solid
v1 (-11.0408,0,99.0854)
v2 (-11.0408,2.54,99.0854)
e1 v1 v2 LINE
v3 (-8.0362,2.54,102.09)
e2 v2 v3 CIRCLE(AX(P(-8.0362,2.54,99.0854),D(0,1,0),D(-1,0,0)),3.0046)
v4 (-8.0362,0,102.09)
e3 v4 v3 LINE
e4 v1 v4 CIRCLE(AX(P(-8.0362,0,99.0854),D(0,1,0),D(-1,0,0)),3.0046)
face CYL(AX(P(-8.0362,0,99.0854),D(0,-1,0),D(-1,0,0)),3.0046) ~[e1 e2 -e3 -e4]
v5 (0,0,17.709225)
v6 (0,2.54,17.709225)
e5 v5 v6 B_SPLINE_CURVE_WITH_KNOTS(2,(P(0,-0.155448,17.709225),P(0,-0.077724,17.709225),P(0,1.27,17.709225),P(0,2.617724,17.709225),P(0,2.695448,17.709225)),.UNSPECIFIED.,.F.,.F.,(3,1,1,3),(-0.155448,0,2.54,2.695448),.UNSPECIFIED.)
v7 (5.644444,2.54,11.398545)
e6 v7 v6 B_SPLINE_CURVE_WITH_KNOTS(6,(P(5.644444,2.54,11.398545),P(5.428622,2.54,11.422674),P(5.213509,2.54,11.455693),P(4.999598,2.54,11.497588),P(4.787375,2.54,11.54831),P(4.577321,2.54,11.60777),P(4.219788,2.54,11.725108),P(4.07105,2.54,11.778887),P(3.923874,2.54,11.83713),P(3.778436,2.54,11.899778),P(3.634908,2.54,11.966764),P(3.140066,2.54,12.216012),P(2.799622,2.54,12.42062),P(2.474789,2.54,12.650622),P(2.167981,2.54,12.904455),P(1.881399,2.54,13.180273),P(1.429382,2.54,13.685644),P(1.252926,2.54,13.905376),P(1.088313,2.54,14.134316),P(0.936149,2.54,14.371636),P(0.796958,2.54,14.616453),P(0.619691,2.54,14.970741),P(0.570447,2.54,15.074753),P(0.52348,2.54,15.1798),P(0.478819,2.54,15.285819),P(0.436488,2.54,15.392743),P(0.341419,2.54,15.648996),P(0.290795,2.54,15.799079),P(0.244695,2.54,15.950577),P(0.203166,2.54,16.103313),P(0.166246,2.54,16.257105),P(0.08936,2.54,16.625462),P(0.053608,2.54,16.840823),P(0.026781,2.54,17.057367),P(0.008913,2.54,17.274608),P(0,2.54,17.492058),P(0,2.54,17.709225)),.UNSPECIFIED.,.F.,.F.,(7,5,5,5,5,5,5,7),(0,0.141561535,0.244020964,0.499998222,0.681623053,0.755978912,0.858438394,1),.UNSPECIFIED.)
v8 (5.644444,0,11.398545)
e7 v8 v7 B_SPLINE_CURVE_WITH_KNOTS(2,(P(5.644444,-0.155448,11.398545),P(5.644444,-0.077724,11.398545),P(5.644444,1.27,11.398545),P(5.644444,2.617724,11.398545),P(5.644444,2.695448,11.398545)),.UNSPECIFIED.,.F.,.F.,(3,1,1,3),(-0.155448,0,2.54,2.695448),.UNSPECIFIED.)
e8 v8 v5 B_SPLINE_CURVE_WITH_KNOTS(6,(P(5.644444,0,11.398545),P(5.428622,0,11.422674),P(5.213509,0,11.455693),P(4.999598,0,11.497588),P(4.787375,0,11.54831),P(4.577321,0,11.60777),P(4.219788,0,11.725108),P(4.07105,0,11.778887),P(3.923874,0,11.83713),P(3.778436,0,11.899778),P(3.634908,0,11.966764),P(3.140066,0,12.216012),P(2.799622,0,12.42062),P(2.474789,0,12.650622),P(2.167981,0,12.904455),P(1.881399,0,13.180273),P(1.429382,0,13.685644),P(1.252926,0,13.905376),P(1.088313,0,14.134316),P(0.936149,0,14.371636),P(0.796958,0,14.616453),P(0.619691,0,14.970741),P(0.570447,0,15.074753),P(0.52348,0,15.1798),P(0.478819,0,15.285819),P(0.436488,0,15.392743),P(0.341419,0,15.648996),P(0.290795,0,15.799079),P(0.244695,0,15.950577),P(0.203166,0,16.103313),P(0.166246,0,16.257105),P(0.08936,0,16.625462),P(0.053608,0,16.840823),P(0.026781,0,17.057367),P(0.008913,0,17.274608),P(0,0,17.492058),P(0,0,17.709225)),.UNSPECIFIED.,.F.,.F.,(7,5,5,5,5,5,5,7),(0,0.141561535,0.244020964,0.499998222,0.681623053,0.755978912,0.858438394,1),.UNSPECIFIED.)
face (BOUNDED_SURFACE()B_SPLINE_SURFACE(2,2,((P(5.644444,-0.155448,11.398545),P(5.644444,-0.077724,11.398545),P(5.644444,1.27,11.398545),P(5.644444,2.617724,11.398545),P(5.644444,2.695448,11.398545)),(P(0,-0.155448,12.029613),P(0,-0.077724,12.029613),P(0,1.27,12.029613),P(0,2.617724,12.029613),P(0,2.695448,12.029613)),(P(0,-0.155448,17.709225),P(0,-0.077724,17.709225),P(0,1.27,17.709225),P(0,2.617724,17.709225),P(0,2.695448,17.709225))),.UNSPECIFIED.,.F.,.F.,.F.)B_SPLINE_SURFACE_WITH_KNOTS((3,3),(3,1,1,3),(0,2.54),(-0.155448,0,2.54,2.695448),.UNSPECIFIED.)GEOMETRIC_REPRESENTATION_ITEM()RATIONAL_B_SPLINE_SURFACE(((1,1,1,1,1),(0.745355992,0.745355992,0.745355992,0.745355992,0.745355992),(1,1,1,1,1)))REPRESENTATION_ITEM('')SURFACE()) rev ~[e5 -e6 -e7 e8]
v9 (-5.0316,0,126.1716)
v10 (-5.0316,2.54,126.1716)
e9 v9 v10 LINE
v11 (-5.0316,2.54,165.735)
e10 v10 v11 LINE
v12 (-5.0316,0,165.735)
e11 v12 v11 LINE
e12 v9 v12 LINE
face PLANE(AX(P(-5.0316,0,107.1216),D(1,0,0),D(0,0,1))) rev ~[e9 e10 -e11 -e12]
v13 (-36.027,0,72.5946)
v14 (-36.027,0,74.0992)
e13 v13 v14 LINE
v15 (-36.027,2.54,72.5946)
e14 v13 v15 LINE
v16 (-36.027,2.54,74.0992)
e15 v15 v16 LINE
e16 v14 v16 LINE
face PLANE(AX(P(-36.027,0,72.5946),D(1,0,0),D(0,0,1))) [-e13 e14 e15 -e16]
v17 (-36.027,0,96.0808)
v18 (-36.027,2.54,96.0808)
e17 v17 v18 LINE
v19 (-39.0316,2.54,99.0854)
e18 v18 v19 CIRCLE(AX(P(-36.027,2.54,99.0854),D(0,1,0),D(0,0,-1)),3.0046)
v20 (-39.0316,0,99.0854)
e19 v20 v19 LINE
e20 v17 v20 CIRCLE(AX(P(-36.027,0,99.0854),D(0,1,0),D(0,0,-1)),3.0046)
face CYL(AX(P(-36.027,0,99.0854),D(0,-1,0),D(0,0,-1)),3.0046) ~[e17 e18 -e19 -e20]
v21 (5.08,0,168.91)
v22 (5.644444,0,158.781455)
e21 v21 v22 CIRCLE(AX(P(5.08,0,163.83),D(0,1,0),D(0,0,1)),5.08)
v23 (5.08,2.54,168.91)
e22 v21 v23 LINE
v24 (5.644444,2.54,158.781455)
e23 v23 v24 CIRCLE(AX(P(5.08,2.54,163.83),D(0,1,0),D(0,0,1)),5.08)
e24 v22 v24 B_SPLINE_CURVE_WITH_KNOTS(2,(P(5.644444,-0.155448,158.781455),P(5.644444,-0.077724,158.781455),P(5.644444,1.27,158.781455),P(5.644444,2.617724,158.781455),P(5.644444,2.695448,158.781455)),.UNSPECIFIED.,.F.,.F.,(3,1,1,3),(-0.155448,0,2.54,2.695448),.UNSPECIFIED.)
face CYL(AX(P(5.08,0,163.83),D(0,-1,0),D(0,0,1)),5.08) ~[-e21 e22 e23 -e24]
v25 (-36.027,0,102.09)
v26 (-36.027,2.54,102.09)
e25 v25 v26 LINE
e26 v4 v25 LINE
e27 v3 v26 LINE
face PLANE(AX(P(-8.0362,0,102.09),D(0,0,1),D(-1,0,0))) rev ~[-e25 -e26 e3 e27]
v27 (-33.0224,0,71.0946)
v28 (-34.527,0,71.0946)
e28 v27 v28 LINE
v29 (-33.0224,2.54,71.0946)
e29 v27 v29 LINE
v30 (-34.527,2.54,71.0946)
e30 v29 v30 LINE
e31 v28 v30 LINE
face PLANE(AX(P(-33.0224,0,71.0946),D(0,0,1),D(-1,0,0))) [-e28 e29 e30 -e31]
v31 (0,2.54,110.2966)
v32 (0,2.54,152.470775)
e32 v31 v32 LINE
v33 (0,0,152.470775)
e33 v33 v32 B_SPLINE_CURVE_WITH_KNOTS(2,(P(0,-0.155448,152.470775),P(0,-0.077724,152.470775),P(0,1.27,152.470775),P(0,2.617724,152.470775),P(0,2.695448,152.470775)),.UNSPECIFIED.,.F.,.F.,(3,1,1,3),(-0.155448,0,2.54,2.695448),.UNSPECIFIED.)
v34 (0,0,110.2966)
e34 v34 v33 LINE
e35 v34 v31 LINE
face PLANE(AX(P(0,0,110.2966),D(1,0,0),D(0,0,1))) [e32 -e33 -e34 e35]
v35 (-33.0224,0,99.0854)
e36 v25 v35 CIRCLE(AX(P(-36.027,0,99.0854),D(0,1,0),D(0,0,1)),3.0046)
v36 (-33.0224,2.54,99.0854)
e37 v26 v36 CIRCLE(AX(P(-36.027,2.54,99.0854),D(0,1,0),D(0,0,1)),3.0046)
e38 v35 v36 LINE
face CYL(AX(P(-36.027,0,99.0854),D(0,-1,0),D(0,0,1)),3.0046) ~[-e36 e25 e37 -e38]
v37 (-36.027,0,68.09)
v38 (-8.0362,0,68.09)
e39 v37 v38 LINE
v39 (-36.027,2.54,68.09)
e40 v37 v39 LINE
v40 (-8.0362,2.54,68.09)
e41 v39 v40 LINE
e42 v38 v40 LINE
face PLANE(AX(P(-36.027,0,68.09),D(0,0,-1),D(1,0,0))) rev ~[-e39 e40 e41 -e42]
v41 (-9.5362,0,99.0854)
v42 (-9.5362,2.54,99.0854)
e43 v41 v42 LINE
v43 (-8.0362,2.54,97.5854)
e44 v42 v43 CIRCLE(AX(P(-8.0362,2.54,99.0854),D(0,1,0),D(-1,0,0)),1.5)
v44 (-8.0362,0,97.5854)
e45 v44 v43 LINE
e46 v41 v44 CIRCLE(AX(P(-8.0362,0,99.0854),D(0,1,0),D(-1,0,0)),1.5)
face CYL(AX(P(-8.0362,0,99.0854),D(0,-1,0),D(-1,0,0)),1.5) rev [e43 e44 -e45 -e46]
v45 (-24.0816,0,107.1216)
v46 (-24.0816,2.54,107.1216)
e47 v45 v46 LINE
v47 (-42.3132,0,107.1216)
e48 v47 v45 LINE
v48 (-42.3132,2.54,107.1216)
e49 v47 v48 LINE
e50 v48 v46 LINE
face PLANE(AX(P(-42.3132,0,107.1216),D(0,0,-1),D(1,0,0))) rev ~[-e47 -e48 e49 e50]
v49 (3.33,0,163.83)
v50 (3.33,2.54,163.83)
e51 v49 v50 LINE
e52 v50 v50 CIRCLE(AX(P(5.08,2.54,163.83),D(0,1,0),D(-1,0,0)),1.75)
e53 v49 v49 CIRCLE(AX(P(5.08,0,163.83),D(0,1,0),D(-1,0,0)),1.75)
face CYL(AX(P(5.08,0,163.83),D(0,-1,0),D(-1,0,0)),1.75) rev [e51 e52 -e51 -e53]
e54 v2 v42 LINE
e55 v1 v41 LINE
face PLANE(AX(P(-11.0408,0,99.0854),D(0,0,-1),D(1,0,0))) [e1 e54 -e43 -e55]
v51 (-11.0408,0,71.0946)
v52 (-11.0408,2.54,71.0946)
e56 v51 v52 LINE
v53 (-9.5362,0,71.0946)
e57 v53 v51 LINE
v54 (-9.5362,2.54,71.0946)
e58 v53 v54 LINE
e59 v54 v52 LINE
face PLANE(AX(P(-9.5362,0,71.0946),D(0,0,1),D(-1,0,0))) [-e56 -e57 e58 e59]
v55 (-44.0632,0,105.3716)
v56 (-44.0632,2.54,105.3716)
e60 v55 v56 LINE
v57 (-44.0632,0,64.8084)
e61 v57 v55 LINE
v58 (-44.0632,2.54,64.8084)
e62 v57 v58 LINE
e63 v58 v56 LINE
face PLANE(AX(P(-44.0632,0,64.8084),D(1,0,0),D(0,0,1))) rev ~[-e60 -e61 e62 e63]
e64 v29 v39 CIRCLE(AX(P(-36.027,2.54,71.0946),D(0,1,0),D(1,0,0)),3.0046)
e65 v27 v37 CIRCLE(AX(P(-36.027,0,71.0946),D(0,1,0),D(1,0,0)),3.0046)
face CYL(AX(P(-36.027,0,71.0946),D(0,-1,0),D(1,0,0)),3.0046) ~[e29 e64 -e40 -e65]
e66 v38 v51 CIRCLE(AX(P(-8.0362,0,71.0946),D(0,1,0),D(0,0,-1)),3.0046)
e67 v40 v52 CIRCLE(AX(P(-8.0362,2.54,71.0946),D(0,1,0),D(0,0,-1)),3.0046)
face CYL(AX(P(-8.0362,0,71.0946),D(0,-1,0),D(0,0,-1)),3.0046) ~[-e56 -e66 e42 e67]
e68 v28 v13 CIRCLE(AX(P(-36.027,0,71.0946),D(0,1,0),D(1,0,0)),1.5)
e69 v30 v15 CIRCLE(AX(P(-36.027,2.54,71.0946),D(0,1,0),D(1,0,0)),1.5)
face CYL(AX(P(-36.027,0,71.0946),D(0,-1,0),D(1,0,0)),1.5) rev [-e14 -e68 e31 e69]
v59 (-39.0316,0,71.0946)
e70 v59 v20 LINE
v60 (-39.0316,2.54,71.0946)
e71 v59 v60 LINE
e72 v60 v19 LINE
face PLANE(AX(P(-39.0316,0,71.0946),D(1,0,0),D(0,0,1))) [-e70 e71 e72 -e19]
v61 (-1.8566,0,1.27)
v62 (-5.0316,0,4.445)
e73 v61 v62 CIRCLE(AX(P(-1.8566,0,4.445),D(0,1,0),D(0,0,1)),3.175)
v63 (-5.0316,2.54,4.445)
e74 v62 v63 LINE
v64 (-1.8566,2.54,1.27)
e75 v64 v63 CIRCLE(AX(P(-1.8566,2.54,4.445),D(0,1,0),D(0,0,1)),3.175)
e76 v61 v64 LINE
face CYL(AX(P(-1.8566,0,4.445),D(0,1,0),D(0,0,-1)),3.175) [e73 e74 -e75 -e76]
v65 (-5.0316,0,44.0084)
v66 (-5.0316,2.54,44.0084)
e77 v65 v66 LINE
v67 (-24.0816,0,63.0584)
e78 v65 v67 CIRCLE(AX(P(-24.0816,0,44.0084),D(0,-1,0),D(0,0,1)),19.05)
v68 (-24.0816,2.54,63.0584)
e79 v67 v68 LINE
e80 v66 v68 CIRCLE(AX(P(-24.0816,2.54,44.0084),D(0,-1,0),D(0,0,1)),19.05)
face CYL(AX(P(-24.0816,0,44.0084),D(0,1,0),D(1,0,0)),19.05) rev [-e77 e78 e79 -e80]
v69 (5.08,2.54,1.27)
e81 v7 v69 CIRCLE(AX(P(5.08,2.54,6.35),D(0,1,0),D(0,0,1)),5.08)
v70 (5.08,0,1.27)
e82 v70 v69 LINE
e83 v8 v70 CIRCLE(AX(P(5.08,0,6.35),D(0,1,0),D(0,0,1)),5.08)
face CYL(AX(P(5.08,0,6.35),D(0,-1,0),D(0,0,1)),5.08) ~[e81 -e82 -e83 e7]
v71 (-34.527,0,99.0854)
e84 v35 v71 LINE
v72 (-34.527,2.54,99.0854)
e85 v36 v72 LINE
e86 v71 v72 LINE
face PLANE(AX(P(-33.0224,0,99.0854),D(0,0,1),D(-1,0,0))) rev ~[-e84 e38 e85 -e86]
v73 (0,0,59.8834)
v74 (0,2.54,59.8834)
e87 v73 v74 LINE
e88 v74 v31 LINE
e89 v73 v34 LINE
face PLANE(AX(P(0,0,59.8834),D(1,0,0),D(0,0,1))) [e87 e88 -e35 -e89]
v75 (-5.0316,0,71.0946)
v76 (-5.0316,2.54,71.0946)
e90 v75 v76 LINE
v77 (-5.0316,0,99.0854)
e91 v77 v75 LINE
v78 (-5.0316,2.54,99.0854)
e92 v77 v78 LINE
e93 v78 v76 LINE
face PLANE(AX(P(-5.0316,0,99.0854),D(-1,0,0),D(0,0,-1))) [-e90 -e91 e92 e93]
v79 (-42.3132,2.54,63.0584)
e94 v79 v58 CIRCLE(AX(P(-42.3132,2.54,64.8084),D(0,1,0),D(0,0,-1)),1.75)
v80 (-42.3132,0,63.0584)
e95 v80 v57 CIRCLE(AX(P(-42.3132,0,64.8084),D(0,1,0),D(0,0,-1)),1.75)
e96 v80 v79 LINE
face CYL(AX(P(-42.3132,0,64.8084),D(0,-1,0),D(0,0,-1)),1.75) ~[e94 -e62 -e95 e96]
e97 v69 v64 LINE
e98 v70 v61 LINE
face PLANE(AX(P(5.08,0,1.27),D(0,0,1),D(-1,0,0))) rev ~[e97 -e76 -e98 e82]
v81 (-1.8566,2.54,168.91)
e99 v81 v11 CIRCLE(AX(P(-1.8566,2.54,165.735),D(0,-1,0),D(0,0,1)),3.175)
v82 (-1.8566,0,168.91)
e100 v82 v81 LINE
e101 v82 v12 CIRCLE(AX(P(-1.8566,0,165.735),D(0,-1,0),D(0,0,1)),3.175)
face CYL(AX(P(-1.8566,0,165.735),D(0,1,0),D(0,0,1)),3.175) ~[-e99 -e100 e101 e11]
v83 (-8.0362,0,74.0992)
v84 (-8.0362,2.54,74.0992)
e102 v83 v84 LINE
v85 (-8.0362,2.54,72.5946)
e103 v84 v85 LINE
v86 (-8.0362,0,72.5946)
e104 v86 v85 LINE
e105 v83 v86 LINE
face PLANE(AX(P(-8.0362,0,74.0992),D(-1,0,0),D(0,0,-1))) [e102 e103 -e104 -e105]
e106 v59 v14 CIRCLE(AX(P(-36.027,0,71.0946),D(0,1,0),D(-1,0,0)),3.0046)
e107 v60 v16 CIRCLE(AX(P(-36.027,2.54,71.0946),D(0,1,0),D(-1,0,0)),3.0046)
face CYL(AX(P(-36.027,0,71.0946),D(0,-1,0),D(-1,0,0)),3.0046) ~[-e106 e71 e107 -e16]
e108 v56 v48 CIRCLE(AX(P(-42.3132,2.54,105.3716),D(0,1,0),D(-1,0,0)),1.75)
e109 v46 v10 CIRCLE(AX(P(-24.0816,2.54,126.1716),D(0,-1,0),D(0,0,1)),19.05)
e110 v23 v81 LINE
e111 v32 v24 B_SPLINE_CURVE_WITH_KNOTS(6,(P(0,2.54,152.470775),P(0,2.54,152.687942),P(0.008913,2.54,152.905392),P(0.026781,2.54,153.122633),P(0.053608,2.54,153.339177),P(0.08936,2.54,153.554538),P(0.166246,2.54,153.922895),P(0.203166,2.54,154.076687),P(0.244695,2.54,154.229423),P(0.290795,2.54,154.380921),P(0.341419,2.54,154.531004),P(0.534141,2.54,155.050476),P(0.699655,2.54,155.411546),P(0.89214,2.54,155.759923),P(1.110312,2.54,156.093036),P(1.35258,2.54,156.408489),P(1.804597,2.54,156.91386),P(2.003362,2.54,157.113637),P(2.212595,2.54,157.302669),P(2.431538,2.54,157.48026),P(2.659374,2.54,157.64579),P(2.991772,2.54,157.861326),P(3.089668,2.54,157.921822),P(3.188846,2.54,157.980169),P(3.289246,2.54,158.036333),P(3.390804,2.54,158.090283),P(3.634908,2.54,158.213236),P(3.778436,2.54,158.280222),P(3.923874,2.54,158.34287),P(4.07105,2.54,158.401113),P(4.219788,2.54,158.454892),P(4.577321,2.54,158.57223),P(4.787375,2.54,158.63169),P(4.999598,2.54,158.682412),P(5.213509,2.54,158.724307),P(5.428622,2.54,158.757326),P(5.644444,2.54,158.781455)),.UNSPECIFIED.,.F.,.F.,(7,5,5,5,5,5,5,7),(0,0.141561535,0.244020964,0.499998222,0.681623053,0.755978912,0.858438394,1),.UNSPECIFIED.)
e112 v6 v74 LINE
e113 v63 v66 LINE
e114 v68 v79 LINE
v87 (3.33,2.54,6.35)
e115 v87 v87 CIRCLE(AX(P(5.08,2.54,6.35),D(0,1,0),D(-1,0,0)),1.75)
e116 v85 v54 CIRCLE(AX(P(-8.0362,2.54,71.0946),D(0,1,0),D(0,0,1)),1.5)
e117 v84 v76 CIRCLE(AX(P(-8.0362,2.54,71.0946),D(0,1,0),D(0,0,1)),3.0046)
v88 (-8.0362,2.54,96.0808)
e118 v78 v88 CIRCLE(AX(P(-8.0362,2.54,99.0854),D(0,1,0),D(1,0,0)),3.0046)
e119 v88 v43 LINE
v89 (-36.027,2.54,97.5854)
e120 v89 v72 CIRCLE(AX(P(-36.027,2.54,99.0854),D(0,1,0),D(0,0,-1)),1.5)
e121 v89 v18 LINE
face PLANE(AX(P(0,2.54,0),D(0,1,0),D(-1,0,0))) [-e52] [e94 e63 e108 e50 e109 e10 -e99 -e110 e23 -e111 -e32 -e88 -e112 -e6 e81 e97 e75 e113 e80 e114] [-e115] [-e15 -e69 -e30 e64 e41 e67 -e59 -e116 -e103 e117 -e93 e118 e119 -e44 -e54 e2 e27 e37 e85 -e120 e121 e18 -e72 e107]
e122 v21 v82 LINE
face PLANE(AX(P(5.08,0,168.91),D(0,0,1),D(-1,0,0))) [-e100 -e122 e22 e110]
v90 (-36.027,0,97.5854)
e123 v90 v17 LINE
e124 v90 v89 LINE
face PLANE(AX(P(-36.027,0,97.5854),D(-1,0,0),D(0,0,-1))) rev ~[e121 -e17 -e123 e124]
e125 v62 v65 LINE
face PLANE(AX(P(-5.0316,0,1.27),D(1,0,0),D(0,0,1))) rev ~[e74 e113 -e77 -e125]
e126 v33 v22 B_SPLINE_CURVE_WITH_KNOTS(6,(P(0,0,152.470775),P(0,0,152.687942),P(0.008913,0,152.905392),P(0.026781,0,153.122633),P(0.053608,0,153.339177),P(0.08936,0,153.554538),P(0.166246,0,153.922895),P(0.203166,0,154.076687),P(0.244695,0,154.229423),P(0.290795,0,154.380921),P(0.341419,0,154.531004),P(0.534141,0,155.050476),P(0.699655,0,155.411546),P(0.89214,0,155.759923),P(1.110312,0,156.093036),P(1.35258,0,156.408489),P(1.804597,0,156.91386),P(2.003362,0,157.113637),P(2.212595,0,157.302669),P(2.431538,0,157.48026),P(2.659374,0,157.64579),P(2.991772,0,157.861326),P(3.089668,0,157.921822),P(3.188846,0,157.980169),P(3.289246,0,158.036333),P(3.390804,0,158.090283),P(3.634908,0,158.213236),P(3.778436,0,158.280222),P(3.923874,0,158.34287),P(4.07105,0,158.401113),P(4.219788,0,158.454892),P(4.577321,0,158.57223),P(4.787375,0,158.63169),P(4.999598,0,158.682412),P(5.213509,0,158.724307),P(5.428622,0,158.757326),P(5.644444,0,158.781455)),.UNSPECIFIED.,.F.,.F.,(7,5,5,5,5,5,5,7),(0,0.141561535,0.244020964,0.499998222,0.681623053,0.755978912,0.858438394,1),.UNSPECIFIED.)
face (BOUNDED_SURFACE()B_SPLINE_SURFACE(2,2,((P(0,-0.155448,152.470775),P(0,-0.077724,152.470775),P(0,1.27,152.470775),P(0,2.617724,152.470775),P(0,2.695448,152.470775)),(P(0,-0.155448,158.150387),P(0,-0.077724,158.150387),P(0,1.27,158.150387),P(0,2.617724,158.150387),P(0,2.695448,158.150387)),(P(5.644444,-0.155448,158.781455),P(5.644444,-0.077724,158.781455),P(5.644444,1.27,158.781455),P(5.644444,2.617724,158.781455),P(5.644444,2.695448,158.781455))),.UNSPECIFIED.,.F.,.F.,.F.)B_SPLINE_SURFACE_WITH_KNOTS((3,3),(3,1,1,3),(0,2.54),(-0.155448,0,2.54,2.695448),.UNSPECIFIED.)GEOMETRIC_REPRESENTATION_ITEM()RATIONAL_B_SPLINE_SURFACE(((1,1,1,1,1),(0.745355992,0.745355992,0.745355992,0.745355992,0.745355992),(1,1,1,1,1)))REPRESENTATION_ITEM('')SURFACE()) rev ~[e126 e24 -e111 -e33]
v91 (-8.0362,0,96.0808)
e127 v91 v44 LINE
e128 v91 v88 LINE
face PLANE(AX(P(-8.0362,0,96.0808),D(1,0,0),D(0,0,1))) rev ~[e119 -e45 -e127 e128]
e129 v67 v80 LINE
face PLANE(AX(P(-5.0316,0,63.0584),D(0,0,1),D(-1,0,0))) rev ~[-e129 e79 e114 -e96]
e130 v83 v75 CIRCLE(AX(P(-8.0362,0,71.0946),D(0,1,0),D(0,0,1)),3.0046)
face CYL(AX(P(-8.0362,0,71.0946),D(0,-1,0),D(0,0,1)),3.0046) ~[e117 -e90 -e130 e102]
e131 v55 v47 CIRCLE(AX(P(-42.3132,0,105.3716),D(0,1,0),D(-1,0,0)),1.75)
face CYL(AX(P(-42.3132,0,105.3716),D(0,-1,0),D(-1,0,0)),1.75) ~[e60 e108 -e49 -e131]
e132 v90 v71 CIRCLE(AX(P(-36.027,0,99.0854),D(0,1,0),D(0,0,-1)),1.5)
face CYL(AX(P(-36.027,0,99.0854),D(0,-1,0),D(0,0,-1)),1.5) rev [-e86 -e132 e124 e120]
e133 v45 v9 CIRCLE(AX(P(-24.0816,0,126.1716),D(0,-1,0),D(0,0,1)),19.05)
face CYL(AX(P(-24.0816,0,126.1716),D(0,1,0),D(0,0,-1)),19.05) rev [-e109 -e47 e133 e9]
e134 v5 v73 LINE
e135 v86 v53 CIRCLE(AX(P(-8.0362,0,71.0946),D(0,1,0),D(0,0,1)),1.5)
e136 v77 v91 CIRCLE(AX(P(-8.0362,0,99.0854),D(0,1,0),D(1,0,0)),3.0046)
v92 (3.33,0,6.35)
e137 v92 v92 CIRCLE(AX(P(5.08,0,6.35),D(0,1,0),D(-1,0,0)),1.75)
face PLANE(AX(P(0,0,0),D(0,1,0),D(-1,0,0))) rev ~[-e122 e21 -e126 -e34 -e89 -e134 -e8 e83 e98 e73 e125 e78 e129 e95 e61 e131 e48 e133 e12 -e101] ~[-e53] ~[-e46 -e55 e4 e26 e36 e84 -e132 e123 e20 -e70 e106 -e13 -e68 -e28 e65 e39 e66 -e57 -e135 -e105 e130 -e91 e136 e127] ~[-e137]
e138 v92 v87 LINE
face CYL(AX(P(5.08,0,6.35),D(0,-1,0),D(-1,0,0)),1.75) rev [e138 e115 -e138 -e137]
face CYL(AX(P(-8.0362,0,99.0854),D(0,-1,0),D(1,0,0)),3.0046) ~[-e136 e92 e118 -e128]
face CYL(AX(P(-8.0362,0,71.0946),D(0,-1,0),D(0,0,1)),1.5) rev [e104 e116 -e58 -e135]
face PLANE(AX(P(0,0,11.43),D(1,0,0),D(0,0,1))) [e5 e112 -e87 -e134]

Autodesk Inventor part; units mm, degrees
ref_plane "YZ Plane" through (0, 0, 0) normal (1, 0, 0) x (0, 1, 0)
ref_plane "XZ Plane" through (0, 0, 0) normal (0, 1, 0) x (-1, 0, 0)
ref_plane "XY Plane" through (0, 0, 0) normal (0, 0, 1) x (1, 0, 0)
sketch "Sketch1" plane through (0, 0, 0) normal (0, 1, 0) x (-1, 0, 0)
  circle A0 centre (-5.08, 6.35) radius 1.75
  circle A1 centre (-5.08, 6.35) radius 1.75
  arc A2 (-5.08, 11.43) -> (-5.08, 1.27) centre (-5.08, 6.35) ccw
  line L0 (0, 11.43) -> (0, 59.8834)
  line L1 (-5.08, 1.27) -> (5.0316, 1.27)
  line L2 (5.0316, 1.27) -> (5.0316, 63.0584)
  line L3 (-5.08, 11.43) -> (0, 11.43)
  line L4 (0, 11.43) -> (0, 59.8834)
  line L5 (5.0316, 63.0584) -> (42.3132, 63.0584)
  line L6 (5.0316, 63.0584) -> (42.3132, 63.0584)
  line L7 (44.0632, 64.8084) -> (44.0632, 105.3716)
  line L8 (44.0632, 64.8084) -> (44.0632, 105.3716)
  line L9 (42.3132, 107.1216) -> (5.0316, 107.1216)
  line L10 (42.3132, 107.1216) -> (5.0316, 107.1216)
  line L11 (5.0316, 107.1216) -> (5.0316, 168.91)
  circle A3 centre (-5.08, 163.83) radius 1.75
  circle A4 centre (-5.08, 163.83) radius 1.75
  arc A5 (-5.08, 168.91) -> (-5.08, 158.75) centre (-5.08, 163.83) ccw
  line L12 (0, 110.2966) -> (0, 158.75)
  line L13 (-5.08, 168.91) -> (5.0316, 168.91)
  line L14 (0, 59.8834) -> (0, 158.75)
  line L15 (0, 158.75) -> (-5.08, 158.75)
  arc A6 (8.0362, 72.5946) -> (9.5362, 71.0946) centre (8.0362, 71.0946) ccw
  arc A7 (8.0362, 72.5946) -> (9.5362, 71.0946) centre (8.0362, 71.0946) ccw
  arc A8 (34.527, 71.0946) -> (36.027, 72.5946) centre (36.027, 71.0946) ccw
  arc A9 (34.527, 71.0946) -> (36.027, 72.5946) centre (36.027, 71.0946) ccw
  arc A10 (36.027, 97.5854) -> (34.527, 99.0854) centre (36.027, 99.0854) ccw
  arc A11 (36.027, 97.5854) -> (34.527, 99.0854) centre (36.027, 99.0854) ccw
  arc A12 (9.5362, 99.0854) -> (8.0362, 97.5854) centre (8.0362, 99.0854) ccw
  arc A13 (9.5362, 99.0854) -> (8.0362, 97.5854) centre (8.0362, 99.0854) ccw
  arc A14 (8.0362, 68.09) -> (11.0408, 71.0946) centre (8.0362, 71.0946) ccw
  arc A15 (33.0224, 71.0946) -> (36.027, 68.09) centre (36.027, 71.0946) ccw
  line L16 (11.0408, 99.0854) -> (9.5362, 99.0854)
  line L17 (36.027, 68.09) -> (8.0362, 68.09)
  line L18 (8.0362, 68.09) -> (36.027, 68.09)
  line L19 (5.0316, 99.0854) -> (5.0316, 71.0946)
  line L20 (5.0316, 71.0946) -> (5.0316, 99.0854)
  line L21 (8.0362, 102.09) -> (36.027, 102.09)
  line L22 (8.0362, 102.09) -> (36.027, 102.09)
  line L23 (39.0316, 71.0946) -> (39.0316, 99.0854)
  line L24 (39.0316, 71.0946) -> (39.0316, 99.0854)
  line L25 (33.0224, 71.0946) -> (34.527, 71.0946)
  line L26 (34.527, 71.0946) -> (33.0224, 71.0946)
  line L27 (36.027, 72.5946) -> (36.027, 74.0992)
  line L28 (36.027, 72.5946) -> (36.027, 74.0992)
  line L29 (9.5362, 71.0946) -> (11.0408, 71.0946)
  line L30 (11.0408, 71.0946) -> (9.5362, 71.0946)
  line L31 (8.0362, 74.0992) -> (8.0362, 72.5946)
  line L32 (8.0362, 72.5946) -> (8.0362, 74.0992)
  line L33 (8.0362, 96.0808) -> (8.0362, 97.5854)
  line L34 (8.0362, 96.0808) -> (8.0362, 97.5854)
  arc A16 (11.0408, 99.0854) -> (8.0362, 102.09) centre (8.0362, 99.0854) ccw
  line L35 (9.5362, 99.0854) -> (11.0408, 99.0854)
  line L36 (36.027, 97.5854) -> (36.027, 96.0808)
  line L37 (36.027, 96.0808) -> (36.027, 97.5854)
  line L38 (33.0224, 99.0854) -> (34.527, 99.0854)
  line L39 (34.527, 99.0854) -> (33.0224, 99.0854)
  arc A17 (36.027, 96.0808) -> (39.0316, 99.0854) centre (36.027, 99.0854) ccw
  arc A18 (36.027, 102.09) -> (33.0224, 99.0854) centre (36.027, 99.0854) ccw
  arc A19 (33.0224, 71.0946) -> (36.027, 68.09) centre (36.027, 71.0946) ccw
  arc A20 (39.0316, 71.0946) -> (36.027, 74.0992) centre (36.027, 71.0946) ccw
  arc A21 (8.0362, 68.09) -> (11.0408, 71.0946) centre (8.0362, 71.0946) ccw
  arc A22 (8.0362, 74.0992) -> (5.0316, 71.0946) centre (8.0362, 71.0946) ccw
  arc A23 (11.0408, 99.0854) -> (8.0362, 102.09) centre (8.0362, 99.0854) ccw
  arc A24 (5.0316, 99.0854) -> (8.0362, 96.0808) centre (8.0362, 99.0854) ccw
  arc A25 (44.0632, 105.3716) -> (42.3132, 107.1216) centre (42.3132, 105.3716) ccw
  arc A26 (42.3132, 63.0584) -> (44.0632, 64.8084) centre (42.3132, 64.8084) ccw
  point P0 (0, 0)
  point P1 (0, 0)
  point P2 (3.175, 59.8834)
extrude "Extrusion1" add sketch "Sketch1" along normal blind 2.54
fillet "Fillet1" radius 6.35 2 edges at (0, 1.27, 11.43) (0, 1.27, 158.75)
fillet "Fillet2" radius 3.175 2 edges at (-5.0316, 1.27, 1.27) (-5.0316, 1.27, 168.91)
fillet "Fillet3" radius 19.05 2 edges at (-5.0316, 1.27, 107.1216) (-5.0316, 1.27, 63.0584)
properties part number "CameraBracket"
